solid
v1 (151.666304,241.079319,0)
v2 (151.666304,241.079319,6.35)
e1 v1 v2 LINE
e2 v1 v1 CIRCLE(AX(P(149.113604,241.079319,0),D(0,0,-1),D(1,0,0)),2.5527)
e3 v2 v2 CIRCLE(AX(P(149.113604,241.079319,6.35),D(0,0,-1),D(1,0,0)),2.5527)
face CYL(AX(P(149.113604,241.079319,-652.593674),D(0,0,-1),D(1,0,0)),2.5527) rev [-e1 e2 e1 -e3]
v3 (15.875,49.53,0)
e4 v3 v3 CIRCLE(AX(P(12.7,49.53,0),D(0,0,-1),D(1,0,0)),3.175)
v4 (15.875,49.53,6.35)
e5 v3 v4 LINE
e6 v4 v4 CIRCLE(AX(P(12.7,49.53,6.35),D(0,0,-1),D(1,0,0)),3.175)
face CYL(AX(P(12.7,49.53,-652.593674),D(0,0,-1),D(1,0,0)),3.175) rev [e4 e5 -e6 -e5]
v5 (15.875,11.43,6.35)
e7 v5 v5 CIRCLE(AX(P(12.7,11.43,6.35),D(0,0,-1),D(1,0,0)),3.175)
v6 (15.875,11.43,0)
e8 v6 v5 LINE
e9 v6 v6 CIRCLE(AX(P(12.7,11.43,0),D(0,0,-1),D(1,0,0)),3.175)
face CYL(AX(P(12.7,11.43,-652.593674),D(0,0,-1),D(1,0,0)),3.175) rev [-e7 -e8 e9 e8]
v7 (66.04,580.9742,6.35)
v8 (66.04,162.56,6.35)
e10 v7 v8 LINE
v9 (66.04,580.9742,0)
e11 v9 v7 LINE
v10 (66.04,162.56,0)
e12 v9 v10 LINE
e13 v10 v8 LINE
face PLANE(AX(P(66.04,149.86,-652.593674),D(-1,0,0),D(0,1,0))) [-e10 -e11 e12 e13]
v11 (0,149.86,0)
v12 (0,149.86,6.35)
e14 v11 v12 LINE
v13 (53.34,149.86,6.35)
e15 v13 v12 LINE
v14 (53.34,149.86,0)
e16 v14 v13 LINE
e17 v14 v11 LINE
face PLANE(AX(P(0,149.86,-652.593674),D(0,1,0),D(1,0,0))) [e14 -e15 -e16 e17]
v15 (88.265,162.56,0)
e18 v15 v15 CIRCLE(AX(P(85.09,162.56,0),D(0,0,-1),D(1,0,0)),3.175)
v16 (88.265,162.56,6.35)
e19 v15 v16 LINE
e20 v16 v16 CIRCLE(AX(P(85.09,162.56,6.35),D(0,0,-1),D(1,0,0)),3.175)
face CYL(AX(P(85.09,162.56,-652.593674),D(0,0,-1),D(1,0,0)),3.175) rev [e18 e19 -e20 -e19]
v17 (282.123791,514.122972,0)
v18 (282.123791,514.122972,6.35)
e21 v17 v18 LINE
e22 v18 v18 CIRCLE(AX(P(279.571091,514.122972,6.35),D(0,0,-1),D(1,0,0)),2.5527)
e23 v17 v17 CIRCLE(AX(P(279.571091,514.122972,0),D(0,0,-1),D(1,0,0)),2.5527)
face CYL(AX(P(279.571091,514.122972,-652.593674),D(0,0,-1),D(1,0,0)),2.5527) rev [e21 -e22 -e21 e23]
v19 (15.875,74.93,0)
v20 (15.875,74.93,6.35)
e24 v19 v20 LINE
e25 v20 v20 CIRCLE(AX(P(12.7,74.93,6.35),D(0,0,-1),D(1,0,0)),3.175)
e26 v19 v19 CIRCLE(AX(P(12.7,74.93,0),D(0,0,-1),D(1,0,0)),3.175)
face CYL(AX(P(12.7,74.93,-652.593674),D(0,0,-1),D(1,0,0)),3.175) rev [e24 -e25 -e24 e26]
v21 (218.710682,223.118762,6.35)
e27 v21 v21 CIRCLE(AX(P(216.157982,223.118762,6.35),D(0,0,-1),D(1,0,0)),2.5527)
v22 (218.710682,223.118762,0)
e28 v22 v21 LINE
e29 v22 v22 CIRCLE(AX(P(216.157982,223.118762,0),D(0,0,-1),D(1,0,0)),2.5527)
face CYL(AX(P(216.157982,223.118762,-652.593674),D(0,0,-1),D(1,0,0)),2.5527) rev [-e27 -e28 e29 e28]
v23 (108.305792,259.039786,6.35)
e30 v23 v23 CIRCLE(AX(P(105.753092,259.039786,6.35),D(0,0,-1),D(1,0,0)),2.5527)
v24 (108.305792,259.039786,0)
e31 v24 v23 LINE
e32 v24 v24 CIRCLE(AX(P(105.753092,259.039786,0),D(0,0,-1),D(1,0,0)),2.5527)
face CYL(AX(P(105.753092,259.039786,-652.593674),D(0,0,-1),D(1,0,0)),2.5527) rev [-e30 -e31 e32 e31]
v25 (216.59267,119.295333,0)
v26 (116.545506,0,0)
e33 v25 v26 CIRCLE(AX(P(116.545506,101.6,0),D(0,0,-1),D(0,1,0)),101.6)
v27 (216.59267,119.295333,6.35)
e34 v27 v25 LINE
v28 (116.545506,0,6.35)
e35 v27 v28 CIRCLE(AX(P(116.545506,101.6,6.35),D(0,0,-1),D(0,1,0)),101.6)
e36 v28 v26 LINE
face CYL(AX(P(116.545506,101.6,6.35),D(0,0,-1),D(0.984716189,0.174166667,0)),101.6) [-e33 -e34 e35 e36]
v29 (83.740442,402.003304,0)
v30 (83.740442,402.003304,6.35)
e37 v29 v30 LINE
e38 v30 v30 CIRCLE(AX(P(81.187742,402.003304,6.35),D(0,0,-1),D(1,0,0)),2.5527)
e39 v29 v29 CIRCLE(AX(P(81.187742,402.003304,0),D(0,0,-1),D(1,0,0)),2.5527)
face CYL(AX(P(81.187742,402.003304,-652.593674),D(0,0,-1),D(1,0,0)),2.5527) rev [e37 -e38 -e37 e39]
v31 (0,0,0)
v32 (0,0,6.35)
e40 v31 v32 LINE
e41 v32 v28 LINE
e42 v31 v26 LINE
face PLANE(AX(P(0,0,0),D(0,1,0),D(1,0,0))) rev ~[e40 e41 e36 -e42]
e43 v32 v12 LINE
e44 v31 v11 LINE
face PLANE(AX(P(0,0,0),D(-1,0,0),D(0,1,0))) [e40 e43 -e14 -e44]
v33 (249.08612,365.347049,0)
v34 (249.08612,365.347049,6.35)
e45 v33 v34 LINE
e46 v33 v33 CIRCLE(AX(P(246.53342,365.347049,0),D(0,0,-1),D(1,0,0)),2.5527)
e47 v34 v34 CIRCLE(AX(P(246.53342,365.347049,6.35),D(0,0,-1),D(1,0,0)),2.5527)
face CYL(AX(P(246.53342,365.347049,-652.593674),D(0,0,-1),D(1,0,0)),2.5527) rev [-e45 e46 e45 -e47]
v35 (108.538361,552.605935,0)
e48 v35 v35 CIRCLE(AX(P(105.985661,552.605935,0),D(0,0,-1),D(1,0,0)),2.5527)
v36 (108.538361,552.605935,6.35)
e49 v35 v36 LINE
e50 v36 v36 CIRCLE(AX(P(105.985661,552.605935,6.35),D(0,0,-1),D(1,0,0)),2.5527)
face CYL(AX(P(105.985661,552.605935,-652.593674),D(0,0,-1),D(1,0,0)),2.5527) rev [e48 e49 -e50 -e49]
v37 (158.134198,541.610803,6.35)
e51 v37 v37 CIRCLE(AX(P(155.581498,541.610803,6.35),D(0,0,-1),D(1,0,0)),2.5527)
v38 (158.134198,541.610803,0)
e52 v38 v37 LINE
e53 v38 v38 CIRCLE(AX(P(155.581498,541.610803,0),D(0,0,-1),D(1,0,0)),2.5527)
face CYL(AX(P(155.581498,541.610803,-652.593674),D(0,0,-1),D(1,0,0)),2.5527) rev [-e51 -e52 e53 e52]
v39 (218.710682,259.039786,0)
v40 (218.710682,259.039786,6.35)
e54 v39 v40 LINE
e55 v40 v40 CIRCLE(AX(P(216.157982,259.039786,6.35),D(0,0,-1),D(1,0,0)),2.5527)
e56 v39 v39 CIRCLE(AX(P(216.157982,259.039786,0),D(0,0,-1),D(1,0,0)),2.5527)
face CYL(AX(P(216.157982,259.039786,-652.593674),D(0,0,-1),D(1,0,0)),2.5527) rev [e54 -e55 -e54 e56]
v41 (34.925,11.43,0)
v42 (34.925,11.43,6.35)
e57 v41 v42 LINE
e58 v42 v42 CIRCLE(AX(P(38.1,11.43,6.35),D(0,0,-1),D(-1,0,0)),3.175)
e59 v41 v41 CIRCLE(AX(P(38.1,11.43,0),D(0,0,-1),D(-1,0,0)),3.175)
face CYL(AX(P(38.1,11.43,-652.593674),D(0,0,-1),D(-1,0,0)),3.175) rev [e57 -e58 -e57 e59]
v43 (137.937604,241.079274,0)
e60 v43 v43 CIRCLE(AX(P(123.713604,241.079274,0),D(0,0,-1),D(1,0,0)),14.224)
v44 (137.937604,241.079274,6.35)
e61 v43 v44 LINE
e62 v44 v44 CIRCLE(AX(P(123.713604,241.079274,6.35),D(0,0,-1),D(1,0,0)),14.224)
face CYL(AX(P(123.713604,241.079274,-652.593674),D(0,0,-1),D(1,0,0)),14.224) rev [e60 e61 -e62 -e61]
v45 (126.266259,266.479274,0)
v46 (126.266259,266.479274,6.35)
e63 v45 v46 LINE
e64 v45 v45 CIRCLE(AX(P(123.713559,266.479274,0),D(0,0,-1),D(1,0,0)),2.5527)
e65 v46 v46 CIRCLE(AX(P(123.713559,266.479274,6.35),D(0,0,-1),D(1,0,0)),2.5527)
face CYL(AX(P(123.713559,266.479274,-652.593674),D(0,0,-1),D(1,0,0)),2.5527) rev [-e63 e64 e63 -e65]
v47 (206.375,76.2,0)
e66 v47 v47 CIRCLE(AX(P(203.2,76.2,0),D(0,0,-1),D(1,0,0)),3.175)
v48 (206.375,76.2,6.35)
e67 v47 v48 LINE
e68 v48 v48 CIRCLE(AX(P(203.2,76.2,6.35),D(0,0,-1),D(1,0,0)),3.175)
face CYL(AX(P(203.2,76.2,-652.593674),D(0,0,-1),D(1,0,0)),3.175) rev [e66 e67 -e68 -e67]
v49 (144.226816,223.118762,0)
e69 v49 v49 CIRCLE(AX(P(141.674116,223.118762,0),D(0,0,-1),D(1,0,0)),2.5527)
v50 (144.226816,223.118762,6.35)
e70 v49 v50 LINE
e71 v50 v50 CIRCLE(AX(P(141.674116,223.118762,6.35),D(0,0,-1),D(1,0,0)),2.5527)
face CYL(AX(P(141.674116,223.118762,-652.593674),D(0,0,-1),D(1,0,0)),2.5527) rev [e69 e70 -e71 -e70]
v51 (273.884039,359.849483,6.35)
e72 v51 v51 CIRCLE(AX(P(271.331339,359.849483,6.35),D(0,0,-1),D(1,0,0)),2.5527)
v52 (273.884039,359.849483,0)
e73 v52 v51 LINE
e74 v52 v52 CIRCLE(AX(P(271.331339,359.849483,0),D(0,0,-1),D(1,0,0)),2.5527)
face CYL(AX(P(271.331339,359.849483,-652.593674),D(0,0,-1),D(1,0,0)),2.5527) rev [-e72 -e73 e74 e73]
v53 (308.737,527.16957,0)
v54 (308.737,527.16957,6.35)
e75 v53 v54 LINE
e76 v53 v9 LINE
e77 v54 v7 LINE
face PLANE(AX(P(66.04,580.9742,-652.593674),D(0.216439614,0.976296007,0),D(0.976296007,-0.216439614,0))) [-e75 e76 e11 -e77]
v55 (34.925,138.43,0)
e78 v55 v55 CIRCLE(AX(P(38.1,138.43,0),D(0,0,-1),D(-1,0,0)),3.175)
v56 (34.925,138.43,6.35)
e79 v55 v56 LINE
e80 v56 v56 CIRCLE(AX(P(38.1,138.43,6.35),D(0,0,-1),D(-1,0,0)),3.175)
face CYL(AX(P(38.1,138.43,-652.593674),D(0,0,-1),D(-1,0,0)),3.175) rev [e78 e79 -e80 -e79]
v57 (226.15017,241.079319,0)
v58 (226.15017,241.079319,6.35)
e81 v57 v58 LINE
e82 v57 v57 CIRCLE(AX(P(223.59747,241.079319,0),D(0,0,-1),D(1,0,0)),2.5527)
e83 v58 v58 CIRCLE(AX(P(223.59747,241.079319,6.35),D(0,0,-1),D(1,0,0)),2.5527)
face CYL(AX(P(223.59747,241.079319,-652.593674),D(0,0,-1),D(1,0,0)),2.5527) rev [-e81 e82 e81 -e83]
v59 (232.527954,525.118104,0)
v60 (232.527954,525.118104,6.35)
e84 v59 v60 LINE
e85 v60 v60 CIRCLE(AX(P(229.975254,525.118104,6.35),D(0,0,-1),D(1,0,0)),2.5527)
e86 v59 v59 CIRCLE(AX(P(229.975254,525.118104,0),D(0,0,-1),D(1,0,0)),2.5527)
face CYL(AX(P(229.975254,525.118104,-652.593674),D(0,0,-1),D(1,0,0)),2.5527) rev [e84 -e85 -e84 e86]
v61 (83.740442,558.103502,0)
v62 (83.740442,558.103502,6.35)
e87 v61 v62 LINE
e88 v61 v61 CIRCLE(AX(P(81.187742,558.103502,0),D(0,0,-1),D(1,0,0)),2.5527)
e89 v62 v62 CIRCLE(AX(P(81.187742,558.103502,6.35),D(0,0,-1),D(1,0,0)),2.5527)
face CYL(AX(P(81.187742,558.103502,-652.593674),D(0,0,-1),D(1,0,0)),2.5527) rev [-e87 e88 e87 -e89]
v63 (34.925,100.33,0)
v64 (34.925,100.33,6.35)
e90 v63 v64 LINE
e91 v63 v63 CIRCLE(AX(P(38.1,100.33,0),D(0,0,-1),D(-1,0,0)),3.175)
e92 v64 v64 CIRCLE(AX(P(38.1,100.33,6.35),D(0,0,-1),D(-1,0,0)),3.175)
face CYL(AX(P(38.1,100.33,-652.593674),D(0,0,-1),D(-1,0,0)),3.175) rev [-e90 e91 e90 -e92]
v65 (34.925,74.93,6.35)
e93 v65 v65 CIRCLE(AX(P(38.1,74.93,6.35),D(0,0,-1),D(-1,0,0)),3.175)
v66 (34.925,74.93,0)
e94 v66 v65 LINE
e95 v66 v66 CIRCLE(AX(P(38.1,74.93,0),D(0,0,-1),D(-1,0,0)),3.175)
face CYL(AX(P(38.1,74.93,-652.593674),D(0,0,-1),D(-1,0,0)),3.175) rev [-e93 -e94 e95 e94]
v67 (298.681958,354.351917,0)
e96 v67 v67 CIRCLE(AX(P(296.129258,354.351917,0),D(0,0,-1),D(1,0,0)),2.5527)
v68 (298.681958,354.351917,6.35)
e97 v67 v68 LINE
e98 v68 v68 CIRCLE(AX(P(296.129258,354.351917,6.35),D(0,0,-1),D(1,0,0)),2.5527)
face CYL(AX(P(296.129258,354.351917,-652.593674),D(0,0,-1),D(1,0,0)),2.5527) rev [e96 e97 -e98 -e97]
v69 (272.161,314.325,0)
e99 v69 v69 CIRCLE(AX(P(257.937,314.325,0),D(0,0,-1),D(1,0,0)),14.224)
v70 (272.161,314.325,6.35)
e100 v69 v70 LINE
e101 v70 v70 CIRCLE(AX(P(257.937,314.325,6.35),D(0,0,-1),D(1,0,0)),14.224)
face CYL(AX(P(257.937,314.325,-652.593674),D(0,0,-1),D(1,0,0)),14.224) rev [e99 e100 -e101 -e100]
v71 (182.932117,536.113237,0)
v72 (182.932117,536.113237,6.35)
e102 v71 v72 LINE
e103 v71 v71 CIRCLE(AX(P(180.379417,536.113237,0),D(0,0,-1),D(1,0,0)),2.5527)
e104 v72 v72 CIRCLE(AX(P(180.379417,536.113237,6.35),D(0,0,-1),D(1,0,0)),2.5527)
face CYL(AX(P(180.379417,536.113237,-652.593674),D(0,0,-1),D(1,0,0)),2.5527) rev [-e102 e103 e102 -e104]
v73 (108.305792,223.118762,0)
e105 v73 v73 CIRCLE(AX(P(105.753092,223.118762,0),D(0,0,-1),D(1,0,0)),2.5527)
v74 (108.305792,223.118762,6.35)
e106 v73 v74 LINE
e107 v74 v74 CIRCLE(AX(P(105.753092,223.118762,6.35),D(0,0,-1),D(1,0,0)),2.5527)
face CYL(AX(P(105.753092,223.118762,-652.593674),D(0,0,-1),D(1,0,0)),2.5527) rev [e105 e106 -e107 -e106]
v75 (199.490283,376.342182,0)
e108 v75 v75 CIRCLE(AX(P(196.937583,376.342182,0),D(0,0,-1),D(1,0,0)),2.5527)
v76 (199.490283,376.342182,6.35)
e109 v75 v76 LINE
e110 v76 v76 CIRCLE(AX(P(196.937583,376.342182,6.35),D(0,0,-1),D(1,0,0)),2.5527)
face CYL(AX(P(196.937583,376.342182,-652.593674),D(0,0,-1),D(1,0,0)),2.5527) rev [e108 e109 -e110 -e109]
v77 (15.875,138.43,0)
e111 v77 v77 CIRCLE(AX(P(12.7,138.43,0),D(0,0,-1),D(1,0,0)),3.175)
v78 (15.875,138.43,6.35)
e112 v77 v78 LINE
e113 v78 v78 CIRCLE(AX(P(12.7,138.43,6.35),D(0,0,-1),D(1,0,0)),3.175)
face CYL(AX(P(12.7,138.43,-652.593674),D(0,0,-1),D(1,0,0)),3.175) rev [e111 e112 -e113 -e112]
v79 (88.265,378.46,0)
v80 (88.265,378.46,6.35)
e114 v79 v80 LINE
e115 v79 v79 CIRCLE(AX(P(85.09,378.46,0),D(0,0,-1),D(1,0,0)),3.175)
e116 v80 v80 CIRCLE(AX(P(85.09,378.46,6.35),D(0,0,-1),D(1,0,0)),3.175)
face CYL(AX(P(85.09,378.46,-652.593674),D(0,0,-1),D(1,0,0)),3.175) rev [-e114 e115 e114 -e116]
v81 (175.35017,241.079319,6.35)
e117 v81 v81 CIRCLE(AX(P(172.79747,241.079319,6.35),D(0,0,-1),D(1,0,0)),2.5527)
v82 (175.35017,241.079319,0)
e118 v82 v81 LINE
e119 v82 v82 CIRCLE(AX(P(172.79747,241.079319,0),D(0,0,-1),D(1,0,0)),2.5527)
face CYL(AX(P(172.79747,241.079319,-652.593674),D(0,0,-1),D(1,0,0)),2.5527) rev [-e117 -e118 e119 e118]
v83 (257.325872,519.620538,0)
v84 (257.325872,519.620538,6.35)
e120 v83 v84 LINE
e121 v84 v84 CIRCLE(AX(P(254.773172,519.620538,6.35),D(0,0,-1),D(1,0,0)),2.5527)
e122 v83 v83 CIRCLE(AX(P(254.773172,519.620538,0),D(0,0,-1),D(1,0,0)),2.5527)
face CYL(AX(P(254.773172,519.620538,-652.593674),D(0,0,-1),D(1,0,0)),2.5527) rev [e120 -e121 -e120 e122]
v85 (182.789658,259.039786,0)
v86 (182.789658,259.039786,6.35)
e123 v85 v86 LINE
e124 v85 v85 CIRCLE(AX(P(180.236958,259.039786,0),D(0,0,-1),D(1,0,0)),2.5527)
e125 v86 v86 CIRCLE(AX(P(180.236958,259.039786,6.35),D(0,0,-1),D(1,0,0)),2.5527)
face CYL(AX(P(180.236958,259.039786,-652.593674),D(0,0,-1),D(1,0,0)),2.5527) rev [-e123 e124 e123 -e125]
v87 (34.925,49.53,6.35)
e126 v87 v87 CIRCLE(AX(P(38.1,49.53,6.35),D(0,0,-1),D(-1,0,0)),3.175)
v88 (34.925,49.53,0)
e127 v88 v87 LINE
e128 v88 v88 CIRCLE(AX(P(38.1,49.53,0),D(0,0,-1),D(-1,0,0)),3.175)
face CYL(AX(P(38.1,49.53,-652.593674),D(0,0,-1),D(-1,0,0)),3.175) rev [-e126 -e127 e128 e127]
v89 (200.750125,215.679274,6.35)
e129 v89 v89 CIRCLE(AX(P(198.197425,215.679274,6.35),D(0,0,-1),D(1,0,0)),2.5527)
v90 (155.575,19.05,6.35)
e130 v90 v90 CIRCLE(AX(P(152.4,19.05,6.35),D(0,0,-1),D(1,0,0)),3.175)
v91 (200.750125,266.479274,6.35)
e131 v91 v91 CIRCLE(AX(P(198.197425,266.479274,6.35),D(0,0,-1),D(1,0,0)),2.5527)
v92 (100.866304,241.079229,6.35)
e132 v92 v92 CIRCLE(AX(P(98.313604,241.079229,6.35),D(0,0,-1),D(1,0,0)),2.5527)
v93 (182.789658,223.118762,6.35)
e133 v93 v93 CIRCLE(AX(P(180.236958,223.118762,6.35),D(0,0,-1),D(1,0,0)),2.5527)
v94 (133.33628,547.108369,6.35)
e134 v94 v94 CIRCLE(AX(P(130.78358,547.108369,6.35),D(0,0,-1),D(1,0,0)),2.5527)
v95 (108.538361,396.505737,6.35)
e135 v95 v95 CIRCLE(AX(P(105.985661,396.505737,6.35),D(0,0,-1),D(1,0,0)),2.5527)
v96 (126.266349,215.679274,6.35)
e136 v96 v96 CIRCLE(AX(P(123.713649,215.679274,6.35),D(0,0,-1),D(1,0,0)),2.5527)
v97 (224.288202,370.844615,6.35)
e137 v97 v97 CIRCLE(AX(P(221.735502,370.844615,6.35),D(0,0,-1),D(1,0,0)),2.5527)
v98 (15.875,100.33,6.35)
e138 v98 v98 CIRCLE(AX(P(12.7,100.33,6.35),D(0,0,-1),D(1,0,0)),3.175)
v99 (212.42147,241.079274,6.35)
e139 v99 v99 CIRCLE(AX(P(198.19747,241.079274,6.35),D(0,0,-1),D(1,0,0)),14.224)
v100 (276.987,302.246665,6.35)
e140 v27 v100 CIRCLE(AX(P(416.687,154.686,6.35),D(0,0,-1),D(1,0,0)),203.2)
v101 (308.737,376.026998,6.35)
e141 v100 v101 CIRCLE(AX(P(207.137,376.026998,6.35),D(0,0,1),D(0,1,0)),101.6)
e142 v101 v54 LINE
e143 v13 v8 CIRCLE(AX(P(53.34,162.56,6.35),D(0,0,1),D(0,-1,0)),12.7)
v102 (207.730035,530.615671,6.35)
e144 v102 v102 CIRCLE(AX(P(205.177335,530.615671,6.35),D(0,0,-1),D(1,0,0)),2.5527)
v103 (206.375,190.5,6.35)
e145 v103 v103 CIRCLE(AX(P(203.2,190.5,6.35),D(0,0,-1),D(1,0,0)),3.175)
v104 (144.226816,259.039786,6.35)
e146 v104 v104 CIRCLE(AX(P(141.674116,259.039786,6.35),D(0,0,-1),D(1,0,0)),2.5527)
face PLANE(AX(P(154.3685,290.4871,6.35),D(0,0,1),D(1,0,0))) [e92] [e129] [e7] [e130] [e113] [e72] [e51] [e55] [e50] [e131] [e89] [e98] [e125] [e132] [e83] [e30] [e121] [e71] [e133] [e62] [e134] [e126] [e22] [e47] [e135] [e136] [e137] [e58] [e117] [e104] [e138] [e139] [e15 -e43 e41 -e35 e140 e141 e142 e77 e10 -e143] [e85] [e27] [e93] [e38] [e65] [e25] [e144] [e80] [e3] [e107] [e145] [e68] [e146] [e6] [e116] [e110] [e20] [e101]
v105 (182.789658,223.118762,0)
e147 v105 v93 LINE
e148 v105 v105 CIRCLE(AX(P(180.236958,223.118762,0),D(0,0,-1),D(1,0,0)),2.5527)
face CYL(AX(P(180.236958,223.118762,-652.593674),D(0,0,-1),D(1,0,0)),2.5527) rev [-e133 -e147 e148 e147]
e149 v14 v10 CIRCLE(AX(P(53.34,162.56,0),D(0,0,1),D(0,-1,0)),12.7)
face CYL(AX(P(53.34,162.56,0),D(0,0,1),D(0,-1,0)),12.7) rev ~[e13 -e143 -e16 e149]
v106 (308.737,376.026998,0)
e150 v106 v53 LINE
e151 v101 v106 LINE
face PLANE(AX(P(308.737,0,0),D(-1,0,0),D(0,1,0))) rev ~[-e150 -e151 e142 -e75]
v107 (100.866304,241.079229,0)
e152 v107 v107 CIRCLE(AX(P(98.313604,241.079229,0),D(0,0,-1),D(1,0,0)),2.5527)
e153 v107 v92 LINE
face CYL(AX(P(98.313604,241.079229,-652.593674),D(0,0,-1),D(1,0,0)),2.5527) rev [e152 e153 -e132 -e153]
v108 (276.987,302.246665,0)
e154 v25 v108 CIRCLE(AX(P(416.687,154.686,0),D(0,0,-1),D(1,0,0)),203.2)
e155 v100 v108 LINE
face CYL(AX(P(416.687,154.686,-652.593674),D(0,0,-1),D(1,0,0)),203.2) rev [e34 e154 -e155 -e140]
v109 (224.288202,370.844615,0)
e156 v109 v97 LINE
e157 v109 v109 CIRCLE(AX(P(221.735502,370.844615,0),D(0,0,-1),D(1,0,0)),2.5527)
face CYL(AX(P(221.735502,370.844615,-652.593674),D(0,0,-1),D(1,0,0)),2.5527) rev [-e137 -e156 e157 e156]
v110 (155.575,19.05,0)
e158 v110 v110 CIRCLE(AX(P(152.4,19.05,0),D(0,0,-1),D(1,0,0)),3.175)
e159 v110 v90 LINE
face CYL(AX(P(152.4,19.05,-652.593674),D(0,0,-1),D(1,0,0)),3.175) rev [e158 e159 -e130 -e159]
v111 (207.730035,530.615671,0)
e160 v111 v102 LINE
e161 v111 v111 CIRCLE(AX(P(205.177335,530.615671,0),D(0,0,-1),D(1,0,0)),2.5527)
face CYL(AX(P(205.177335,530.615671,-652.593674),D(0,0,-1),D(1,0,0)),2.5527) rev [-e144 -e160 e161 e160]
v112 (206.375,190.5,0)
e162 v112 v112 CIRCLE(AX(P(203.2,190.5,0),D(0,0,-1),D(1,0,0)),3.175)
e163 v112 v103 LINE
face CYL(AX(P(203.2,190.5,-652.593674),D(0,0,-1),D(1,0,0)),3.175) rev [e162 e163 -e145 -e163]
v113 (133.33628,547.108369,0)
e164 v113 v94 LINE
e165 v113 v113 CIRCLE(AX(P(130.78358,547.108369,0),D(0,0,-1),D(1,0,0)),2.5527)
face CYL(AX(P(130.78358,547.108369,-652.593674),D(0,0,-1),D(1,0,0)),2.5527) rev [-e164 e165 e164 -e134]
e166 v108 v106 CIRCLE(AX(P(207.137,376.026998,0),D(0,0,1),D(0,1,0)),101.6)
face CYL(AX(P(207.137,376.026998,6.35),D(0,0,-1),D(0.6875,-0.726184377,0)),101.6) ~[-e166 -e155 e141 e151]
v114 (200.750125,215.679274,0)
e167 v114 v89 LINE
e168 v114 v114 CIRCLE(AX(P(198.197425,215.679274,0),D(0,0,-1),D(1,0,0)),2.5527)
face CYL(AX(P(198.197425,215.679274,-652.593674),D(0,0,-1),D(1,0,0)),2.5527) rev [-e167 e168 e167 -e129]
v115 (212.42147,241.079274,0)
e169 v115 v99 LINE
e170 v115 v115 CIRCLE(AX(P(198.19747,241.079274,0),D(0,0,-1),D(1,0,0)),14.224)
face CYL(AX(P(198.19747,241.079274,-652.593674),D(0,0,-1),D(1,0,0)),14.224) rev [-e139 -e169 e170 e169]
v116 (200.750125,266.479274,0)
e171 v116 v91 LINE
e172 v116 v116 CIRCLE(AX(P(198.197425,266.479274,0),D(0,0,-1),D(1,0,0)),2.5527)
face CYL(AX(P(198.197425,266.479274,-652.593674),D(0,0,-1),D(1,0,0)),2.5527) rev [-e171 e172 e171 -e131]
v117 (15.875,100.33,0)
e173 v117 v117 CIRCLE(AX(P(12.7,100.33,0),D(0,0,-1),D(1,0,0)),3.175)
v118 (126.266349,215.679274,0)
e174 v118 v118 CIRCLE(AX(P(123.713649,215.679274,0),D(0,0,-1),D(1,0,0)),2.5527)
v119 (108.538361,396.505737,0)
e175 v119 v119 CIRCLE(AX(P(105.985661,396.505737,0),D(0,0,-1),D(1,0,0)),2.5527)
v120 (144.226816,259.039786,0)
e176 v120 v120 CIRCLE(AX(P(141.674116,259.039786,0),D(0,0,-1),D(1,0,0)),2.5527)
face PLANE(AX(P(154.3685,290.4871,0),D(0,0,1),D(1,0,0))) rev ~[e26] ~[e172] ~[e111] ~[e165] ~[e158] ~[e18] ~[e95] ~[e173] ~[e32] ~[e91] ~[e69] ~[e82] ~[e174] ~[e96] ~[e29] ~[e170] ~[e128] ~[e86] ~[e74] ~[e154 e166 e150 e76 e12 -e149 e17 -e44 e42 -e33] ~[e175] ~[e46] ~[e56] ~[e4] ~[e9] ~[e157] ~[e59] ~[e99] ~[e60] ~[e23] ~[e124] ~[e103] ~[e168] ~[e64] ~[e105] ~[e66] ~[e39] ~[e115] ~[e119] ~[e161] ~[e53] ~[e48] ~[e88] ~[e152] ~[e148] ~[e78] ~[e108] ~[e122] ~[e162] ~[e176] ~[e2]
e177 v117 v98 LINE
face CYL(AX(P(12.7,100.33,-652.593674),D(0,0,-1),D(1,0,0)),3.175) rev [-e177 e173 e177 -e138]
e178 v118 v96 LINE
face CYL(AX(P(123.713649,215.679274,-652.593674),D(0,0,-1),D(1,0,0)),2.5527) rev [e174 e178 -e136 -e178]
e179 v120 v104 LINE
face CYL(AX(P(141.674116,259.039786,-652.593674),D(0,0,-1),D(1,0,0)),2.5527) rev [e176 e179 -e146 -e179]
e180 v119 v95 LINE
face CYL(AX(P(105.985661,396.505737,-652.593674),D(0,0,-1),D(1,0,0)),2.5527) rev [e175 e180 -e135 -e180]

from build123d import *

# Parameters (mm, degrees)
SKETCH1_W                                          = 308.737
SKETCH1_H                                          = 580.9742
BOSS_EXTRUDE1_STOCK_DEPTH                          = 6.35
CUT_EXTRUDE1_MOUNTING_DEPTH                        = 658.943674439
CUT_EXTRUDE1_MOUNTING_DEPTH_BACK                   = 658.943674439
SKETCH2_R                                          = 3.175
CUT_EXTRUDE2_ELEVATOR_CLEARANCE_DEPTH              = 658.943674439
CUT_EXTRUDE2_ELEVATOR_CLEARANCE_DEPTH_BACK         = 658.943674439
SKETCH3_W                                          = 66.04
SKETCH3_H                                          = 431.1142
CUT_EXTRUDE3_SCORER_ANGLE_MATERIAL_REMO_DEPTH      = 658.943674439
CUT_EXTRUDE3_SCORER_ANGLE_MATERIAL_REMO_DEPTH_BACK = 658.943674439
CUT_EXTRUDE4_ALGAE_BEARING_HOLES_DEPTH             = 658.943674439
CUT_EXTRUDE4_ALGAE_BEARING_HOLES_DEPTH_BACK        = 658.943674439
SKETCH5_R                                          = 14.224
CUT_EXTRUDE5_MOTOR_MOUNTING_HOLES_DEPTH            = 658.943674439
CUT_EXTRUDE5_MOTOR_MOUNTING_HOLES_DEPTH_BACK       = 658.943674439
SKETCH6_R                                          = 2.5527
CUT_EXTRUDE6_ALGAE_FITMENT_DEPTH                   = 658.943674439
CUT_EXTRUDE6_ALGAE_FITMENT_DEPTH_BACK              = 658.943674439
SKETCH7_R                                          = 203.2
CUT_EXTRUDE7_TOP_BOTTOM_MOUNTING_DEPTH             = 658.943674439
CUT_EXTRUDE7_TOP_BOTTOM_MOUNTING_DEPTH_BACK        = 658.943674439
SKETCH8_R                                          = 2.5527
FILLET1_R                                          = 101.6
FILLET2_R                                          = 101.6
FILLET3_R                                          = 12.7
CUT_EXTRUDE1_DEPTH                                 = 658.943674439
CUT_EXTRUDE1_DEPTH_BACK                            = 658.943674439
SKETCH9_R                                          = 3.175
CUT_EXTRUDE2_DEPTH                                 = 658.943674439
CUT_EXTRUDE2_DEPTH_BACK                            = 658.943674439
SKETCH11_R                                         = 2.5527
CUT_EXTRUDE3_DEPTH                                 = 658.943674439
CUT_EXTRUDE3_DEPTH_BACK                            = 658.943674439
SKETCH12_R                                         = 2.5527


with BuildPart() as part:
    # Sketch1 → Boss-Extrude1 _Stock (new body)
    with BuildSketch(Plane.XY):
        with Locations((154.3685, 290.4871)):
            Rectangle(SKETCH1_W, SKETCH1_H)
    extrude(amount=BOSS_EXTRUDE1_STOCK_DEPTH)

    # Sketch2 → Cut-Extrude1 _Mounting (cut, two sides: drawn at the far end of the back side and taken through both)
    with BuildSketch(Plane.XY.offset(6.35).offset(-CUT_EXTRUDE1_MOUNTING_DEPTH_BACK)):
        with Locations((12.7, 11.43)):
            Circle(SKETCH2_R)
        with Locations((12.7, 49.53)):
            Circle(SKETCH2_R)
        with Locations((12.7, 74.93)):
            Circle(SKETCH2_R)
        with Locations((12.7, 100.33)):
            Circle(SKETCH2_R)
        with Locations((12.7, 138.43)):
            Circle(SKETCH2_R)
        with Locations(Location((38.1, 11.43, 0), (0, 0, 180))):
            Circle(SKETCH2_R)
        with Locations(Location((38.1, 49.53, 0), (0, 0, 180))):
            Circle(SKETCH2_R)
        with Locations(Location((38.1, 74.93, 0), (0, 0, 180))):
            Circle(SKETCH2_R)
        with Locations(Location((38.1, 100.33, 0), (0, 0, 180))):
            Circle(SKETCH2_R)
        with Locations(Location((38.1, 138.43, 0), (0, 0, 180))):
            Circle(SKETCH2_R)
    extrude(amount=CUT_EXTRUDE1_MOUNTING_DEPTH + CUT_EXTRUDE1_MOUNTING_DEPTH_BACK, mode=Mode.SUBTRACT)

    # Sketch3 → Cut-Extrude2 _Elevator Clearance (cut, two sides: drawn at the far end of the back side and taken through both)
    with BuildSketch(Plane.XY.offset(6.35).offset(-CUT_EXTRUDE2_ELEVATOR_CLEARANCE_DEPTH_BACK)):
        with Locations((33.02, 365.4171)):
            Rectangle(SKETCH3_W, SKETCH3_H)
    extrude(amount=CUT_EXTRUDE2_ELEVATOR_CLEARANCE_DEPTH + CUT_EXTRUDE2_ELEVATOR_CLEARANCE_DEPTH_BACK, mode=Mode.SUBTRACT)

    # Sketch4 → Cut-Extrude3 _Scorer Angle Material Remo (cut, two sides: drawn at the far end of the back side and taken through both)
    with BuildSketch(Plane.XY.offset(6.35).offset(-CUT_EXTRUDE3_SCORER_ANGLE_MATERIAL_REMO_DEPTH_BACK)):
        Polygon((66.04, 580.9742), (308.737, 527.169570461), (308.737, 580.9742), align=None)
    extrude(amount=CUT_EXTRUDE3_SCORER_ANGLE_MATERIAL_REMO_DEPTH + CUT_EXTRUDE3_SCORER_ANGLE_MATERIAL_REMO_DEPTH_BACK, mode=Mode.SUBTRACT)

    # Sketch5 → Cut-Extrude4 _Algae Bearing Holes (cut, two sides: drawn at the far end of the back side and taken through both)
    with BuildSketch(Plane.XY.offset(6.35).offset(-CUT_EXTRUDE4_ALGAE_BEARING_HOLES_DEPTH_BACK)):
        with Locations((198.19747, 241.079274)):
            Circle(SKETCH5_R)
        with Locations((257.937, 314.325)):
            Circle(SKETCH5_R)
        with Locations((123.713603803, 241.079274)):
            Circle(SKETCH5_R)
    extrude(amount=CUT_EXTRUDE4_ALGAE_BEARING_HOLES_DEPTH + CUT_EXTRUDE4_ALGAE_BEARING_HOLES_DEPTH_BACK, mode=Mode.SUBTRACT)

    # Sketch6 → Cut-Extrude5 _Motor Mounting Holes (cut, two sides: drawn at the far end of the back side and taken through both)
    with BuildSketch(Plane.XY.offset(6.35).offset(-CUT_EXTRUDE5_MOTOR_MOUNTING_HOLES_DEPTH_BACK)):
        with Locations((216.157982242, 259.039786242)):
            Circle(SKETCH6_R)
        with Locations((180.236957758, 259.039786242)):
            Circle(SKETCH6_R)
        with Locations((180.236957758, 223.118761758)):
            Circle(SKETCH6_R)
        with Locations((216.157982242, 223.118761758)):
            Circle(SKETCH6_R)
        with Locations((141.674116045, 259.039786242)):
            Circle(SKETCH6_R)
        with Locations((141.674116045, 223.118761758)):
            Circle(SKETCH6_R)
        with Locations((105.753091561, 223.118761758)):
            Circle(SKETCH6_R)
        with Locations((105.753091561, 259.039786242)):
            Circle(SKETCH6_R)
    extrude(amount=CUT_EXTRUDE5_MOTOR_MOUNTING_HOLES_DEPTH + CUT_EXTRUDE5_MOTOR_MOUNTING_HOLES_DEPTH_BACK, mode=Mode.SUBTRACT)

    # Sketch7 → Cut-Extrude6 _Algae Fitment (cut, two sides: drawn at the far end of the back side and taken through both)
    with BuildSketch(Plane.XY.offset(6.35).offset(-CUT_EXTRUDE6_ALGAE_FITMENT_DEPTH_BACK)):
        with Locations((416.687, 154.686)):
            Circle(SKETCH7_R)
    extrude(amount=CUT_EXTRUDE6_ALGAE_FITMENT_DEPTH + CUT_EXTRUDE6_ALGAE_FITMENT_DEPTH_BACK, mode=Mode.SUBTRACT)

    # Sketch8 → Cut-Extrude7 _Top_Bottom Mounting (cut, two sides: drawn at the far end of the back side and taken through both)
    with BuildSketch(Plane.XY.offset(6.35).offset(-CUT_EXTRUDE7_TOP_BOTTOM_MOUNTING_DEPTH_BACK)):
        with Locations((81.187742374, 558.103501617)):
            Circle(SKETCH8_R)
        with Locations((105.985660955, 396.505737337)):
            Circle(SKETCH8_R)
        with Locations((81.187742374, 402.003303531)):
            Circle(SKETCH8_R)
        with Locations((196.937583324, 376.342181591)):
            Circle(SKETCH8_R)
        with Locations((221.735501905, 370.844615397)):
            Circle(SKETCH8_R)
        with Locations((246.533420485, 365.347049203)):
            Circle(SKETCH8_R)
        with Locations((271.331339066, 359.849483008)):
            Circle(SKETCH8_R)
        with Locations((296.129257647, 354.351916814)):
            Circle(SKETCH8_R)
        with Locations((105.985660955, 552.605935423)):
            Circle(SKETCH8_R)
        with Locations((130.783579536, 547.108369229)):
            Circle(SKETCH8_R)
        with Locations((155.581498117, 541.610803035)):
            Circle(SKETCH8_R)
        with Locations((180.379416697, 536.113236841)):
            Circle(SKETCH8_R)
        with Locations((205.177335278, 530.615670647)):
            Circle(SKETCH8_R)
        with Locations((229.975253859, 525.118104453)):
            Circle(SKETCH8_R)
        with Locations((254.77317244, 519.620538259)):
            Circle(SKETCH8_R)
        with Locations((279.571091021, 514.122972065)):
            Circle(SKETCH8_R)
    extrude(amount=CUT_EXTRUDE7_TOP_BOTTOM_MOUNTING_DEPTH + CUT_EXTRUDE7_TOP_BOTTOM_MOUNTING_DEPTH_BACK, mode=Mode.SUBTRACT)

    # Fillet1
    fillet1_edges = [part.edges().sort_by_distance(p)[0] for p in [
        (308.737, 326.840109739, 3.175),
    ]]
    fillet(fillet1_edges, radius=FILLET1_R)

    # Fillet2
    fillet2_edges = [part.edges().sort_by_distance(p)[0] for p in [
        (284.920231033, 0, 3.175),
    ]]
    fillet(fillet2_edges, radius=FILLET2_R)

    # Fillet3
    fillet3_edges = [part.edges().sort_by_distance(p)[0] for p in [
        (66.04, 149.86, 3.175),
    ]]
    fillet(fillet3_edges, radius=FILLET3_R)

    # Sketch9 → Cut-Extrude1 (cut, two sides: drawn at the far end of the back side and taken through both)
    with BuildSketch(Plane.XY.offset(6.35).offset(-CUT_EXTRUDE1_DEPTH_BACK)):
        with Locations((85.09, 162.56)):
            Circle(SKETCH9_R)
        with Locations((152.4, 19.05)):
            Circle(SKETCH9_R)
        with Locations((203.2, 76.2)):
            Circle(SKETCH9_R)
        with Locations((85.09, 378.46)):
            Circle(SKETCH9_R)
        with Locations((203.2, 190.5)):
            Circle(SKETCH9_R)
    extrude(amount=CUT_EXTRUDE1_DEPTH + CUT_EXTRUDE1_DEPTH_BACK, mode=Mode.SUBTRACT)

    # Sketch11 → Cut-Extrude2 (cut, two sides: drawn at the far end of the back side and taken through both)
    with BuildSketch(Plane.XY.offset(6.35).offset(-CUT_EXTRUDE2_DEPTH_BACK)):
        with Locations((198.197424758, 266.479274)):
            Circle(SKETCH11_R)
        with Locations((223.59747, 241.079319242)):
            Circle(SKETCH11_R)
        with Locations((172.79747, 241.079319242)):
            Circle(SKETCH11_R)
        with Locations((198.197424758, 215.679274)):
            Circle(SKETCH11_R)
    extrude(amount=CUT_EXTRUDE2_DEPTH + CUT_EXTRUDE2_DEPTH_BACK, mode=Mode.SUBTRACT)

    # Sketch12 → Cut-Extrude3 (cut, two sides: drawn at the far end of the back side and taken through both)
    with BuildSketch(Plane.XY.offset(6.35).offset(-CUT_EXTRUDE3_DEPTH_BACK)):
        with Locations((123.713558561, 266.479274)):
            Circle(SKETCH12_R)
        with Locations((149.113603803, 241.079319242)):
            Circle(SKETCH12_R)
        with Locations((123.713649045, 215.679274)):
            Circle(SKETCH12_R)
        with Locations((98.313603803, 241.079228758)):
            Circle(SKETCH12_R)
    extrude(amount=CUT_EXTRUDE3_DEPTH + CUT_EXTRUDE3_DEPTH_BACK, mode=Mode.SUBTRACT)


solid = part.part
